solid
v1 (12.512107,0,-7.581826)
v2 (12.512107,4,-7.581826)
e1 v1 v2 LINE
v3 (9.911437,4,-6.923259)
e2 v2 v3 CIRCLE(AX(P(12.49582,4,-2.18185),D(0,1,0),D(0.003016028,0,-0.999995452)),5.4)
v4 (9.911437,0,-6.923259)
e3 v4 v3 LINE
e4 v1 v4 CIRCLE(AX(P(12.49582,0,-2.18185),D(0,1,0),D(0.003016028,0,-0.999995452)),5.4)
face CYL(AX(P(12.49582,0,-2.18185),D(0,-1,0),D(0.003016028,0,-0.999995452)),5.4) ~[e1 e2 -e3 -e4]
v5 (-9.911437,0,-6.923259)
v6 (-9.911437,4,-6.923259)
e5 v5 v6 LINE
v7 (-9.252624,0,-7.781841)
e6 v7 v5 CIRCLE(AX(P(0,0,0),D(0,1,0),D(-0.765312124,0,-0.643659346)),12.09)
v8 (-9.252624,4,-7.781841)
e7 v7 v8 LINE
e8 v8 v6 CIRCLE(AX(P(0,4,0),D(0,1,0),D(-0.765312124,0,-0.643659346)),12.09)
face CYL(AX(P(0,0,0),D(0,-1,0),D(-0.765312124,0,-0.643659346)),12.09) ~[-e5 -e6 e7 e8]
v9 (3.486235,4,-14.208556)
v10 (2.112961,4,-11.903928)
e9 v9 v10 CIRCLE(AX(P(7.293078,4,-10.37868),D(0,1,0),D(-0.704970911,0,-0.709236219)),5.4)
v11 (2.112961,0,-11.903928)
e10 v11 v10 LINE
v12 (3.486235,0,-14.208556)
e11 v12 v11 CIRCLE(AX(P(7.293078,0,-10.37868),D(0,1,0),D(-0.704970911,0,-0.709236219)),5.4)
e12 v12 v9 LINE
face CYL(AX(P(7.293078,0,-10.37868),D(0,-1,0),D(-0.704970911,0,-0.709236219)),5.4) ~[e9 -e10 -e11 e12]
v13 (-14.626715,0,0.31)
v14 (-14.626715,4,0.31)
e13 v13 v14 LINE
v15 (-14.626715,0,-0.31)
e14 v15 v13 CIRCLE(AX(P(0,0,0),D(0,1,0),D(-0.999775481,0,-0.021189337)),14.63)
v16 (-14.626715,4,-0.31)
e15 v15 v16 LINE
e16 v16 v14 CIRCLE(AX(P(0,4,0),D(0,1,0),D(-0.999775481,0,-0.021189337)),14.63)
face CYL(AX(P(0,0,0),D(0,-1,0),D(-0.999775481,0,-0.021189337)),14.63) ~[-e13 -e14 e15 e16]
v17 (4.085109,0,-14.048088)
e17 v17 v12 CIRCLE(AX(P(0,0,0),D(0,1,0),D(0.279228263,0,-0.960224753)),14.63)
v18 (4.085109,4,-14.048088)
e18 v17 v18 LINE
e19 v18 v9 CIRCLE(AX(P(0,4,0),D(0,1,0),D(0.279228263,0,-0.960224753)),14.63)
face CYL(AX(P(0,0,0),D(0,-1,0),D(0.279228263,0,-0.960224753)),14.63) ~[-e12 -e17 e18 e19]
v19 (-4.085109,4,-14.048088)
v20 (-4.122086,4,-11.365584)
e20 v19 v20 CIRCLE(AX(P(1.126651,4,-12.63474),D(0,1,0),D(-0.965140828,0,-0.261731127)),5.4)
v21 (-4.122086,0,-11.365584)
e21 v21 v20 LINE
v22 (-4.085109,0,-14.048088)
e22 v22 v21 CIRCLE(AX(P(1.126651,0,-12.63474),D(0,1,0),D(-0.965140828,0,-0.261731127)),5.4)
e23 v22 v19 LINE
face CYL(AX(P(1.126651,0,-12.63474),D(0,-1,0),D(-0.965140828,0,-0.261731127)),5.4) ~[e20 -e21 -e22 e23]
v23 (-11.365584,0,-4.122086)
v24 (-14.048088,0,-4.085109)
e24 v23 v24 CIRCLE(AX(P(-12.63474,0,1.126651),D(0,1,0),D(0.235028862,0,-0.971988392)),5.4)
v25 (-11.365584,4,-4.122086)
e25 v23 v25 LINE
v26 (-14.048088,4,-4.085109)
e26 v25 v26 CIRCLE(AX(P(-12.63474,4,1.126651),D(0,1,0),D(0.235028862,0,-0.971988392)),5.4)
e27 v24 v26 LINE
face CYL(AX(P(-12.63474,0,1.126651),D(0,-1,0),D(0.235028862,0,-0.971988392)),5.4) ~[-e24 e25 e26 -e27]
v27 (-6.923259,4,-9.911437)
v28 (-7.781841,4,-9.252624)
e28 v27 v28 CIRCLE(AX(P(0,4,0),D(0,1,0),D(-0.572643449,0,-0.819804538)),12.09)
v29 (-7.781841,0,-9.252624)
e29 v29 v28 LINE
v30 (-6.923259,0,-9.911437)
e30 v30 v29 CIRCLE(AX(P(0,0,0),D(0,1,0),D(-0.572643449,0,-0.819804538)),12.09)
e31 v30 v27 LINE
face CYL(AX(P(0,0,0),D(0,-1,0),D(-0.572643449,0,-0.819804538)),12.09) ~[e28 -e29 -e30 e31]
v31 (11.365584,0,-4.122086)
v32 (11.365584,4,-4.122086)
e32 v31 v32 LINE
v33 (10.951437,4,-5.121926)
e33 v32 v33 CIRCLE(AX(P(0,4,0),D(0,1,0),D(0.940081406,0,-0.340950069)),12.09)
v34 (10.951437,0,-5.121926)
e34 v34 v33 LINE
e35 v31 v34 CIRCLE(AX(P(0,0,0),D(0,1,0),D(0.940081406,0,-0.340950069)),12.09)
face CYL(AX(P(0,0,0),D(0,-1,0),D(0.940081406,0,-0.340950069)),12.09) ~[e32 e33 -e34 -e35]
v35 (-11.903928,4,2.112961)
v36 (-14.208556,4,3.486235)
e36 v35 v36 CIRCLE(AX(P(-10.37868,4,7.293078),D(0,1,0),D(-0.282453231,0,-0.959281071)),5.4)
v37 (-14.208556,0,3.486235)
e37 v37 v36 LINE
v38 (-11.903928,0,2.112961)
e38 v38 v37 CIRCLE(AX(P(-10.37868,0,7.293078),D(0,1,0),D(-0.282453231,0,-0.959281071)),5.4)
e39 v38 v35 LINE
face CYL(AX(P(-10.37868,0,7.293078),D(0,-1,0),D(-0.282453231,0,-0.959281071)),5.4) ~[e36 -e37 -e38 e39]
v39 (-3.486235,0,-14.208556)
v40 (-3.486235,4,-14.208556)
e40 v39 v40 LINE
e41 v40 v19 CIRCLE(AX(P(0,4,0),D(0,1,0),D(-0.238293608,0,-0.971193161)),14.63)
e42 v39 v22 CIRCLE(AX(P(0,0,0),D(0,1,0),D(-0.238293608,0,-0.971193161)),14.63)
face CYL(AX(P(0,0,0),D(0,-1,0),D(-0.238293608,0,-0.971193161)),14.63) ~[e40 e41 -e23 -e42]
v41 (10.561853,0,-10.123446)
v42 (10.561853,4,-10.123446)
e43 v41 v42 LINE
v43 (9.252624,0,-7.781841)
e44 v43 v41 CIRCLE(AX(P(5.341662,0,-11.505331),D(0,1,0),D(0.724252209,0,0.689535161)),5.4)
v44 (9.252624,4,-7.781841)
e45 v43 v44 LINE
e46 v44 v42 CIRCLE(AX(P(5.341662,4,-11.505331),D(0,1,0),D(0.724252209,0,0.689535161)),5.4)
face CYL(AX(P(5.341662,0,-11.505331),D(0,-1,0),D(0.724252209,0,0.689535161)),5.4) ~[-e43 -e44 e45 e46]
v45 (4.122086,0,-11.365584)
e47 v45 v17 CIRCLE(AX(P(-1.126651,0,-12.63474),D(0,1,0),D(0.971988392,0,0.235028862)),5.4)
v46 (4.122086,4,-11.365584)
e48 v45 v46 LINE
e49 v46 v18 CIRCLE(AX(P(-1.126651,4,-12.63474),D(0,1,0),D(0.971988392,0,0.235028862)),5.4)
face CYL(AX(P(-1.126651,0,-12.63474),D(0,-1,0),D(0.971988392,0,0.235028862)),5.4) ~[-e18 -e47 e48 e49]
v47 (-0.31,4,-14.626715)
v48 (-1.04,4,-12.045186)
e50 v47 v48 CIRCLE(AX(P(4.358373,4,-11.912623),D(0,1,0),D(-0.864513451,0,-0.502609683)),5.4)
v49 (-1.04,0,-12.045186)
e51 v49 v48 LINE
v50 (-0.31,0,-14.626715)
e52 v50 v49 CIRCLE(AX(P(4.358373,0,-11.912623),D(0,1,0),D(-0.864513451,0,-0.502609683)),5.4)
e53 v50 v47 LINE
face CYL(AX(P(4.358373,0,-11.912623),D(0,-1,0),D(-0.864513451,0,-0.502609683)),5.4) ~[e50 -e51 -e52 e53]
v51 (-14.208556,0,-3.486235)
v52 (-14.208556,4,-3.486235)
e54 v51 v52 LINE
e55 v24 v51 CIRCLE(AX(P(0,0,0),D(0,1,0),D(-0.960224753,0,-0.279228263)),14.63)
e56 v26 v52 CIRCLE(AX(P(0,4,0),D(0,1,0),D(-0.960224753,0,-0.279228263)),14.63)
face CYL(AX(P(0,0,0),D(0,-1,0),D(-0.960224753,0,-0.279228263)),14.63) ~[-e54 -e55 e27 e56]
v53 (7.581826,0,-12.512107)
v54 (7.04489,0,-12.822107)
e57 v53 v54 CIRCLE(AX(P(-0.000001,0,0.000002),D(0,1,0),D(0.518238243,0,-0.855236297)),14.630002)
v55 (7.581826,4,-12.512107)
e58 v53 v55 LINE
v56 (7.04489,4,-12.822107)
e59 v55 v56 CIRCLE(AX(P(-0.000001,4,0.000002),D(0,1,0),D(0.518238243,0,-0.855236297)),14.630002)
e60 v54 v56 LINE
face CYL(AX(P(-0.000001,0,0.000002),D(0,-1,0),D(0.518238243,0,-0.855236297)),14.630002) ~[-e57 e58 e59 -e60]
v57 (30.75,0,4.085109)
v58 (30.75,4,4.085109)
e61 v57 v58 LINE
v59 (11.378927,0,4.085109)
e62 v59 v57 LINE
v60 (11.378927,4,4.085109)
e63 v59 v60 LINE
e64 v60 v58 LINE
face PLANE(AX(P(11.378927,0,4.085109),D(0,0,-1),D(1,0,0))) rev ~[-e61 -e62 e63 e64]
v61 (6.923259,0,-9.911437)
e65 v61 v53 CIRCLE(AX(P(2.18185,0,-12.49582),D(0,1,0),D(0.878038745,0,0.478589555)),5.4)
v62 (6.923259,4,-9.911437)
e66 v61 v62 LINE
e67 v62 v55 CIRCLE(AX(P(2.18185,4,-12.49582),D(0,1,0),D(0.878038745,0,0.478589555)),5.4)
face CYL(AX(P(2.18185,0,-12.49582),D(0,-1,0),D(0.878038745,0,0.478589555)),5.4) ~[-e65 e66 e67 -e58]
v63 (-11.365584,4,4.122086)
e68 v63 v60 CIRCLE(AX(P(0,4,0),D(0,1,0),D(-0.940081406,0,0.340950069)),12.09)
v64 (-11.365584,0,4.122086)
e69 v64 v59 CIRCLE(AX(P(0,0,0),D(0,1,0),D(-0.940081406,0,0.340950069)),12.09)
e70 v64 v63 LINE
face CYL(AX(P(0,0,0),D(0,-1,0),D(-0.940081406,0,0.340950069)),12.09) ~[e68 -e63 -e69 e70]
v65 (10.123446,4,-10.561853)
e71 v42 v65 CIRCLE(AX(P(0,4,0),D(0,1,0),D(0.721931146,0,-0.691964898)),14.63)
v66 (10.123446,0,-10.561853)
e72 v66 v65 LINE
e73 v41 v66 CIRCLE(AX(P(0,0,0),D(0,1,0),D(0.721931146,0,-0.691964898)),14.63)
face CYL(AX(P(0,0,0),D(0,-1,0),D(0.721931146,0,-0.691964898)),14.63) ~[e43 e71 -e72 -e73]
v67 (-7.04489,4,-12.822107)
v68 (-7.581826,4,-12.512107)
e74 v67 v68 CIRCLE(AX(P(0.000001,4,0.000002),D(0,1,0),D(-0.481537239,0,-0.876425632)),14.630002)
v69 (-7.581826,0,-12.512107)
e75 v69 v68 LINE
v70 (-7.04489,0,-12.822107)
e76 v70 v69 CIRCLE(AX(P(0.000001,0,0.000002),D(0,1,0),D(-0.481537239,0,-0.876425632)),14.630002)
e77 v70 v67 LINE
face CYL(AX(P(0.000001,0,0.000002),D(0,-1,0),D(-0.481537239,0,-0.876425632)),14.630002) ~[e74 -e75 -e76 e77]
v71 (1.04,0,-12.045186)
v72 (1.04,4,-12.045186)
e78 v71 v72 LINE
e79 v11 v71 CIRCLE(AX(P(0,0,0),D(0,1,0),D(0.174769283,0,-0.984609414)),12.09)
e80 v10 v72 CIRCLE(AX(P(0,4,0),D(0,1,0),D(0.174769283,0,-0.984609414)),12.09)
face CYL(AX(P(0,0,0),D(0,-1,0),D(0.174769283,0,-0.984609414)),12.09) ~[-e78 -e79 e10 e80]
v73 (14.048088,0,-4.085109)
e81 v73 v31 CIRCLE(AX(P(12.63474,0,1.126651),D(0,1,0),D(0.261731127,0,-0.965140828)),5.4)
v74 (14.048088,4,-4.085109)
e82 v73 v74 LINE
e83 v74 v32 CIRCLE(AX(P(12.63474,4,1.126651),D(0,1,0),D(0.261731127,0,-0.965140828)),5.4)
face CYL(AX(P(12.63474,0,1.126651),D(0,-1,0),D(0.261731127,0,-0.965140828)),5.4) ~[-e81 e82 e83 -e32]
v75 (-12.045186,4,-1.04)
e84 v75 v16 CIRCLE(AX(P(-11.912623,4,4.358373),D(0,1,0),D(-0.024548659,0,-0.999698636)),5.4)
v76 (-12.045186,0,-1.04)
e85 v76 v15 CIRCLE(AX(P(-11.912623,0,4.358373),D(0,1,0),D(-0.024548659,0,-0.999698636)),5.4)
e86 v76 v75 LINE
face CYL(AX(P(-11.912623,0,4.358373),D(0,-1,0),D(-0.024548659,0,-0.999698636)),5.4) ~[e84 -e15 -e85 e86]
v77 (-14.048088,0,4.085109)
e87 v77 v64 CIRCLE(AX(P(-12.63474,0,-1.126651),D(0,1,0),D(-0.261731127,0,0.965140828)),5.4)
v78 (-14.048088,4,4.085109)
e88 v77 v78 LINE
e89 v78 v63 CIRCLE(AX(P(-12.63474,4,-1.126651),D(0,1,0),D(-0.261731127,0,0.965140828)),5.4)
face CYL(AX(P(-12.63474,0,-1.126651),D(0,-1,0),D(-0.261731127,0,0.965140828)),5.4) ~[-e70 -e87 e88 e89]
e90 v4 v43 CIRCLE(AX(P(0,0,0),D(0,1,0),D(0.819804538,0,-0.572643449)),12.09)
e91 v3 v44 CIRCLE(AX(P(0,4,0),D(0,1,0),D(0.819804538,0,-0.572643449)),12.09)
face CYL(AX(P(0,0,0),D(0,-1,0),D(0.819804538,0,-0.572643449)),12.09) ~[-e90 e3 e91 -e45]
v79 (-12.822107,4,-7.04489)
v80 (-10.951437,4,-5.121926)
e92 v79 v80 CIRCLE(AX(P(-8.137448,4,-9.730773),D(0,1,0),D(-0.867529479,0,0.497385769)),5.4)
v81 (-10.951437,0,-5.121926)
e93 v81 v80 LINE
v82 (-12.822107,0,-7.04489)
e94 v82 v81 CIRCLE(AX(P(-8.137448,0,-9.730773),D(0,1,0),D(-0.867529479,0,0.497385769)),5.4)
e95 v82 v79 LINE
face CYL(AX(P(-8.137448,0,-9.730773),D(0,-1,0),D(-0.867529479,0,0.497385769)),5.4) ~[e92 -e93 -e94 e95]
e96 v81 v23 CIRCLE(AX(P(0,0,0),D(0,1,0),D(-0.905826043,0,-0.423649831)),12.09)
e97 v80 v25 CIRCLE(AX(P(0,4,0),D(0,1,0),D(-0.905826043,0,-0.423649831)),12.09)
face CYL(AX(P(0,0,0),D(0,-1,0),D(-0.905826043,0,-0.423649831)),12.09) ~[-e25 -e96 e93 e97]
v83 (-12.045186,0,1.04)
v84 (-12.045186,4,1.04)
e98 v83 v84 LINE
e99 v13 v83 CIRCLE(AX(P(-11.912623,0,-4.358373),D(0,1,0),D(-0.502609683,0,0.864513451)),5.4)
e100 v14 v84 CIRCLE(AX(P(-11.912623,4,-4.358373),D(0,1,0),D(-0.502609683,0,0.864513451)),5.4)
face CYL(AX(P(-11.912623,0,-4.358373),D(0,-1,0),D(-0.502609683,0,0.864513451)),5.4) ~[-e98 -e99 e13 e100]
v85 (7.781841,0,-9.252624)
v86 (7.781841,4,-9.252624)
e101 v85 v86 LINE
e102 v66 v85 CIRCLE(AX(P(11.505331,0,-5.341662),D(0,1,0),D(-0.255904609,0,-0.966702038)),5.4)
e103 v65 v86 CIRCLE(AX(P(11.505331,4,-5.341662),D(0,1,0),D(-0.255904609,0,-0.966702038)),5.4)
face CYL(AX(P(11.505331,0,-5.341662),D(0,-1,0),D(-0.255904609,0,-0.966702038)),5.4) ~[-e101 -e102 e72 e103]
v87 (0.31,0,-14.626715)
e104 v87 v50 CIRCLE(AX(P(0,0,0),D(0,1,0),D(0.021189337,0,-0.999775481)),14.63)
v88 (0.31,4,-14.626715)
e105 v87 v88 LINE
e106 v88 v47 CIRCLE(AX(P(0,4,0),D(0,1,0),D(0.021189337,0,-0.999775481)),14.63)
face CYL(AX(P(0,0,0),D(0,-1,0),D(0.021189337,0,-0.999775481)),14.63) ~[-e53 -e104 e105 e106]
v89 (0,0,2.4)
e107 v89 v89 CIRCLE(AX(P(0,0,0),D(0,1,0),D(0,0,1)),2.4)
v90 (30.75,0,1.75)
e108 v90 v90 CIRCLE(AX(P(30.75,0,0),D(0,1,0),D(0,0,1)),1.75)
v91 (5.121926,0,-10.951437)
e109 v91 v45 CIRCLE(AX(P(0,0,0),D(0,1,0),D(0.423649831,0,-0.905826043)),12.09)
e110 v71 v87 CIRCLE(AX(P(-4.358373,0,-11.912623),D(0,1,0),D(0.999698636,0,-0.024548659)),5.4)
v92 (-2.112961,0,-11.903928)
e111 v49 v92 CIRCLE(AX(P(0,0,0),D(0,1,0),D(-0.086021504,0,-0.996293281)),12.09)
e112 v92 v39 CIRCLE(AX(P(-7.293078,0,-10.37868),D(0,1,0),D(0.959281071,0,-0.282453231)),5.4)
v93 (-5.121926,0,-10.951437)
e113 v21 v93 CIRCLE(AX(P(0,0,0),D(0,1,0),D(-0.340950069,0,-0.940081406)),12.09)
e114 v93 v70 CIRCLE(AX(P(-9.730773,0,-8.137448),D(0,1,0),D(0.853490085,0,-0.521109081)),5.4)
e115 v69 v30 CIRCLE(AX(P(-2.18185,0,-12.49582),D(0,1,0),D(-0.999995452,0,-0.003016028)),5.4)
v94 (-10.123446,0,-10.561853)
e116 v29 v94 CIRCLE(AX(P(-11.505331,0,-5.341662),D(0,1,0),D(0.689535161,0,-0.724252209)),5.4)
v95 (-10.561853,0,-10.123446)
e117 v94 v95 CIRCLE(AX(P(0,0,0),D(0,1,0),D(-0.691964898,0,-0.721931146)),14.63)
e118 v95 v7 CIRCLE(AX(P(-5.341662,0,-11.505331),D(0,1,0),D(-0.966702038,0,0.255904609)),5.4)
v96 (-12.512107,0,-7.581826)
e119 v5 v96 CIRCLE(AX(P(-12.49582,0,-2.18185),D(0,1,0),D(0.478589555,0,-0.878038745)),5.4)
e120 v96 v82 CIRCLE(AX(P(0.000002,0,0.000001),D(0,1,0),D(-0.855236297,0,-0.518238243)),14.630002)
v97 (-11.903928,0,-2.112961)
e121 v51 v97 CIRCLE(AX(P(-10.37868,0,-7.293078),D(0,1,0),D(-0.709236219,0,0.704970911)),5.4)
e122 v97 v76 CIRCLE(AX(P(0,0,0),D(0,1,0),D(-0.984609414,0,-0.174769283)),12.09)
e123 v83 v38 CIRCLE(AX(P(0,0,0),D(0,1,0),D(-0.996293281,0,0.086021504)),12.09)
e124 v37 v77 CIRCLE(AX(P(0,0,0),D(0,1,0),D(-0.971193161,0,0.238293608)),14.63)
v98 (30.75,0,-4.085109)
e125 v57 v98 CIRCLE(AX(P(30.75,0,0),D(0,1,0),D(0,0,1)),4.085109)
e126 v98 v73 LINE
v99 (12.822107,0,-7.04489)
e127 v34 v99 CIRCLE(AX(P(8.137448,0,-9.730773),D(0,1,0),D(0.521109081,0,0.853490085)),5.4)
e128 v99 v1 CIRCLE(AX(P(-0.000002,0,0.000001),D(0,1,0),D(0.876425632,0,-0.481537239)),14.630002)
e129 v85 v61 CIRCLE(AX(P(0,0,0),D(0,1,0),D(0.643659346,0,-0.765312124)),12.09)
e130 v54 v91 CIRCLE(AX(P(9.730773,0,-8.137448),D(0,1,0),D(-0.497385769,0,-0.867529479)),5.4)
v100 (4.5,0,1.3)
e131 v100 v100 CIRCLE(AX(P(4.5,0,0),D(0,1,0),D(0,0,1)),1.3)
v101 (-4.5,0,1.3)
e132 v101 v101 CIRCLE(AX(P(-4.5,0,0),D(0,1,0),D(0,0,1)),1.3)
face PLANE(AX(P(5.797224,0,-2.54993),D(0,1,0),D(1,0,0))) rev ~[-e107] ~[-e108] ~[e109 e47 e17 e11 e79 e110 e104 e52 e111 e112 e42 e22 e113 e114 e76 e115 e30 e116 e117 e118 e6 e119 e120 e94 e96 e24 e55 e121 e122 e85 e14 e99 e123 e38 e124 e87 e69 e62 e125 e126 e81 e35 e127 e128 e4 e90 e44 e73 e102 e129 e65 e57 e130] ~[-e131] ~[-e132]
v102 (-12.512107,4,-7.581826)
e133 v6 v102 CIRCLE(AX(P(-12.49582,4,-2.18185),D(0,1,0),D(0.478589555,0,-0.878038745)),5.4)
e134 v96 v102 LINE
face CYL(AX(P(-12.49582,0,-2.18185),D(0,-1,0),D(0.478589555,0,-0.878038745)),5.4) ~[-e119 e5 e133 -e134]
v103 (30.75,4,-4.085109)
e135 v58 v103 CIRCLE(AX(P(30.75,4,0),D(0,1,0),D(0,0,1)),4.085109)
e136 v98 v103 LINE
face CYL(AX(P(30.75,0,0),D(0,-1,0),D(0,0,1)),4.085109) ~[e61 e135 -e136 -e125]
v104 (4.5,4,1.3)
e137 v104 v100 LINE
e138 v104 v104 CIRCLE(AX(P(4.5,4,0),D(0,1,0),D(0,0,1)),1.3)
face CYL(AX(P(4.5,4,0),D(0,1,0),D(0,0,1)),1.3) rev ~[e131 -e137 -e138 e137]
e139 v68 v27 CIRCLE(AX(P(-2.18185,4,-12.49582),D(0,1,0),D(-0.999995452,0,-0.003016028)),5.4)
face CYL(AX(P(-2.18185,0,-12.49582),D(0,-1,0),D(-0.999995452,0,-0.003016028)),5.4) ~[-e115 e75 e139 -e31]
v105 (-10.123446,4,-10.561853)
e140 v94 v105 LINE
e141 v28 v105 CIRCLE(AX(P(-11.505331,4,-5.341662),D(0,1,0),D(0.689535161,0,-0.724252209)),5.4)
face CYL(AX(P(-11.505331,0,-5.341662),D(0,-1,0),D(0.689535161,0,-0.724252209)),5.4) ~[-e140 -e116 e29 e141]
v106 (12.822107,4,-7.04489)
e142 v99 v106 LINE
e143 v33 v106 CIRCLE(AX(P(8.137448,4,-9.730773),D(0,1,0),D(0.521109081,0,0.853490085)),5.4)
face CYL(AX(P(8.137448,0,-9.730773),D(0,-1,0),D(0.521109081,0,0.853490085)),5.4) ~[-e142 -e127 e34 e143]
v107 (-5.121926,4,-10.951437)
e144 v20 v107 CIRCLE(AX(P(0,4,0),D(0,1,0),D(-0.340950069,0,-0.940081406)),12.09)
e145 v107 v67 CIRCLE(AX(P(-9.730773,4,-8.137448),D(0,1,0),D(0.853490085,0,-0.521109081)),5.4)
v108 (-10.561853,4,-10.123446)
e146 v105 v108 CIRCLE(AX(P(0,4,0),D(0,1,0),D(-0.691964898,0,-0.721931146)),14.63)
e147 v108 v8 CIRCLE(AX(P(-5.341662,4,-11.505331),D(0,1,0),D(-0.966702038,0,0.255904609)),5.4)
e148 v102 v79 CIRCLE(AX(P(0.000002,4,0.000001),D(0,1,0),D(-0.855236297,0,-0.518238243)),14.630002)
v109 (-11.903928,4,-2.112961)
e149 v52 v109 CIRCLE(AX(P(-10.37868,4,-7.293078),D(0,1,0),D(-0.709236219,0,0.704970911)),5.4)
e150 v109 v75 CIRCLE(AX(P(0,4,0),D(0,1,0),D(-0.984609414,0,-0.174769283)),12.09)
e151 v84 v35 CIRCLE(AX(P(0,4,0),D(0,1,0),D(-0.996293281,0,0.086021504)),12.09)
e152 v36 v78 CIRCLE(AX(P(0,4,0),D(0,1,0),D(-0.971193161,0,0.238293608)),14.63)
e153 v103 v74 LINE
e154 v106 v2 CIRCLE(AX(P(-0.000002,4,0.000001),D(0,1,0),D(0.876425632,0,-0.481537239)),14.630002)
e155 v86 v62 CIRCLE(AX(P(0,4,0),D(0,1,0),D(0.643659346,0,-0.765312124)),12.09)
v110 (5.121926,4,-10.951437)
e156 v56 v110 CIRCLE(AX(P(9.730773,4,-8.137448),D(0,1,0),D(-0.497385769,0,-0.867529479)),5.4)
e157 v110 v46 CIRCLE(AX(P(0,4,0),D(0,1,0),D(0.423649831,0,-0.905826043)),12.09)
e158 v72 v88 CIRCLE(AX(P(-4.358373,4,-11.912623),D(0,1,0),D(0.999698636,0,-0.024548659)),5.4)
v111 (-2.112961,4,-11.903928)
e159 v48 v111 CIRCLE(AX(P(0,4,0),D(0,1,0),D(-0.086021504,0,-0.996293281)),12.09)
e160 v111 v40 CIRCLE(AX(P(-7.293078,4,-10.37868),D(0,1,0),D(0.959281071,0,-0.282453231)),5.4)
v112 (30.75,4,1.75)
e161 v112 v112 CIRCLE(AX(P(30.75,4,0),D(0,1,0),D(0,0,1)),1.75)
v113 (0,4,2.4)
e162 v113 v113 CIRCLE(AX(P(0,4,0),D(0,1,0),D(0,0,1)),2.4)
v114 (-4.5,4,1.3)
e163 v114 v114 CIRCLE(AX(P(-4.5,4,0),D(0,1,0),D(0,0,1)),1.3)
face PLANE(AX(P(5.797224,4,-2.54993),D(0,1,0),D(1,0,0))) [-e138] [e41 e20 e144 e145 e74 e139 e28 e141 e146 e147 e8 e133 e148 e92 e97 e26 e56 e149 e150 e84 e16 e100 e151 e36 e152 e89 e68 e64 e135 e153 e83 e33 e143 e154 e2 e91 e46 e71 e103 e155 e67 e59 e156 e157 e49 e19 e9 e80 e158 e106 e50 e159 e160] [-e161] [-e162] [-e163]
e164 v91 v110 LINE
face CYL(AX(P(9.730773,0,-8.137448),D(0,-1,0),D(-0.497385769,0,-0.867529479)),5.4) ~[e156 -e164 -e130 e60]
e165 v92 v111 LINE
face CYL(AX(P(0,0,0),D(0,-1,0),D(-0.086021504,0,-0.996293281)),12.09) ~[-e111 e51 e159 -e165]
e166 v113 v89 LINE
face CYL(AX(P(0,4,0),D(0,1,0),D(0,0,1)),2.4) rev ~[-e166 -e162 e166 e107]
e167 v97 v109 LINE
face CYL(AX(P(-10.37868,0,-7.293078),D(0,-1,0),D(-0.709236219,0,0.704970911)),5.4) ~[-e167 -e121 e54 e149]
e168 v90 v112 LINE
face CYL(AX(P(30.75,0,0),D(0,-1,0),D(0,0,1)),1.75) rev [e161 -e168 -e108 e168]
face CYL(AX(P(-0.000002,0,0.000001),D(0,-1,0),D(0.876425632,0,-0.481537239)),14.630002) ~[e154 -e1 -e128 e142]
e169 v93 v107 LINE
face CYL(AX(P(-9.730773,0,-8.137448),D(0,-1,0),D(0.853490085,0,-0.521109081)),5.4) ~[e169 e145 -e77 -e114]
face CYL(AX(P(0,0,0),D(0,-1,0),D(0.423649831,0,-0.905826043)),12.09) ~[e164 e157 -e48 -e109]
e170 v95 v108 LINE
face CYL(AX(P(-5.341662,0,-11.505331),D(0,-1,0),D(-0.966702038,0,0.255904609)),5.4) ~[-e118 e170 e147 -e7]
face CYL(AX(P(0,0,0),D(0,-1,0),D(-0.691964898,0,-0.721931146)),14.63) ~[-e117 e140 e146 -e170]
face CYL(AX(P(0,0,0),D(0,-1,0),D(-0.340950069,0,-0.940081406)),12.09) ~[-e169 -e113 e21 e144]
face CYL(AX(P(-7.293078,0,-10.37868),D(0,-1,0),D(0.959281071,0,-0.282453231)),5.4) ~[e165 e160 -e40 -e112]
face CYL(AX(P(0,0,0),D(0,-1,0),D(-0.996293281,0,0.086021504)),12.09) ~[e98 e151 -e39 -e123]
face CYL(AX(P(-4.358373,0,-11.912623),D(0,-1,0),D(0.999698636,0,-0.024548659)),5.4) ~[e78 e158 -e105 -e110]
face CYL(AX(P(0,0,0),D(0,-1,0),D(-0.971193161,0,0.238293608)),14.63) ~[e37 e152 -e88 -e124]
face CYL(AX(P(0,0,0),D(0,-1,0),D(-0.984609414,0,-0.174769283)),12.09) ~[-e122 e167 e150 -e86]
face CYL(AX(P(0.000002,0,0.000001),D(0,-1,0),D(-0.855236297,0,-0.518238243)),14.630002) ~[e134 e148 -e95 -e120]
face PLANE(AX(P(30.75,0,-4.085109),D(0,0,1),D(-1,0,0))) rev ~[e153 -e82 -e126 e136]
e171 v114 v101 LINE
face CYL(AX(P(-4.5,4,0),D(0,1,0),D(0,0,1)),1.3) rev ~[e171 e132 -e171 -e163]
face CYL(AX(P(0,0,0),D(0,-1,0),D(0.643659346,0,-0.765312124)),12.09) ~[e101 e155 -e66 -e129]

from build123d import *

# Parameters (mm, degrees)
SKETCH_2_R          = 1.75
EXTRUDE_1_DEPTH     = 4
SKETCH_3_R          = 2.4
SKETCH_3_R_2        = 1.3
CUT_EXTRUDE_1_DEPTH = 38.993706757


with BuildPart() as part:
    # 草图2 → 凸台-拉伸1 (new body)
    with BuildSketch(Plane(origin=(0, 0, 0), x_dir=(1, 0, 0), z_dir=(0, 1, 0))):
        with BuildLine():
            ThreePointArc((30.75, -4.085109489), (34.835109489, 0), (30.75, 4.085109489))
            Line((30.75, 4.085109489), (14.048088143, 4.085109489))
            ThreePointArc((14.048088143, 4.085109489), (12.709169027, 4.272836063), (11.365584201, 4.122086336))
            ThreePointArc((11.365584201, 4.122086336), (11.169703548, 4.626642697), (10.951436862, 5.12192646))
            ThreePointArc((10.951436862, 5.12192646), (12.008090957, 5.965388247), (12.82210701, 7.044889767))
            ThreePointArc((12.82210701, 7.044889767), (12.669951657, 7.315), (12.51210701, 7.581825517))
            ThreePointArc((12.51210701, 7.581825517), (11.170223244, 7.416617696), (9.911436862, 6.9232593))
            ThreePointArc((9.911436862, 6.9232593), (9.591641884, 7.359925677), (9.252623584, 7.781841479))
            ThreePointArc((9.252623584, 7.781841479), (10.05496909, 8.870045207), (10.561852666, 10.123446462))
            ThreePointArc((10.561852666, 10.123446462), (10.344972209, 10.344972209), (10.123446462, 10.561852666))
            ThreePointArc((10.123446462, 10.561852666), (8.870045207, 10.05496909), (7.781841479, 9.252623584))
            ThreePointArc((7.781841479, 9.252623584), (7.359925677, 9.591641884), (6.9232593, 9.911436862))
            ThreePointArc((6.9232593, 9.911436862), (7.416617696, 11.170223244), (7.581825517, 12.51210701))
            ThreePointArc((7.581825517, 12.51210701), (7.315, 12.669951657), (7.044889767, 12.82210701))
            ThreePointArc((7.044889767, 12.82210701), (5.965388247, 12.008090957), (5.12192646, 10.951436862))
            ThreePointArc((5.12192646, 10.951436862), (4.626642697, 11.169703548), (4.122086336, 11.365584201))
            ThreePointArc((4.122086336, 11.365584201), (4.272836063, 12.709169027), (4.085109489, 14.048088143))
            ThreePointArc((4.085109489, 14.048088143), (3.78652263, 14.131494839), (3.486235477, 14.208555951))
            ThreePointArc((3.486235477, 14.208555951), (2.654199937, 13.14288127), (2.112960617, 11.903927815))
            ThreePointArc((2.112960617, 11.903927815), (1.578061664, 11.986568374), (1.04, 12.04518576))
            ThreePointArc((1.04, 12.04518576), (0.837867713, 13.382005944), (0.31, 14.626715284))
            ThreePointArc((0.31, 14.626715284), (0, 14.63), (-0.31, 14.626715284))
            ThreePointArc((-0.31, 14.626715284), (-0.837867713, 13.382005944), (-1.04, 12.04518576))
            ThreePointArc((-1.04, 12.04518576), (-1.578061664, 11.986568374), (-2.112960617, 11.903927815))
            ThreePointArc((-2.112960617, 11.903927815), (-2.654199937, 13.14288127), (-3.486235477, 14.208555951))
            ThreePointArc((-3.486235477, 14.208555951), (-3.78652263, 14.131494839), (-4.085109489, 14.048088143))
            ThreePointArc((-4.085109489, 14.048088143), (-4.272836063, 12.709169027), (-4.122086336, 11.365584201))
            ThreePointArc((-4.122086336, 11.365584201), (-4.626642697, 11.169703548), (-5.12192646, 10.951436862))
            ThreePointArc((-5.12192646, 10.951436862), (-5.965388247, 12.008090957), (-7.044889767, 12.82210701))
            ThreePointArc((-7.044889767, 12.82210701), (-7.315, 12.669951657), (-7.581825517, 12.51210701))
            ThreePointArc((-7.581825517, 12.51210701), (-7.416617696, 11.170223244), (-6.9232593, 9.911436862))
            ThreePointArc((-6.9232593, 9.911436862), (-7.359925677, 9.591641884), (-7.781841479, 9.252623584))
            ThreePointArc((-7.781841479, 9.252623584), (-8.870045207, 10.05496909), (-10.123446462, 10.561852666))
            ThreePointArc((-10.123446462, 10.561852666), (-10.344972209, 10.344972209), (-10.561852666, 10.123446462))
            ThreePointArc((-10.561852666, 10.123446462), (-10.05496909, 8.870045207), (-9.252623584, 7.781841479))
            ThreePointArc((-9.252623584, 7.781841479), (-9.591641884, 7.359925677), (-9.911436862, 6.9232593))
            ThreePointArc((-9.911436862, 6.9232593), (-11.170223244, 7.416617696), (-12.51210701, 7.581825517))
            ThreePointArc((-12.51210701, 7.581825517), (-12.669951657, 7.315), (-12.82210701, 7.044889767))
            ThreePointArc((-12.82210701, 7.044889767), (-12.008090957, 5.965388247), (-10.951436862, 5.12192646))
            ThreePointArc((-10.951436862, 5.12192646), (-11.169703548, 4.626642697), (-11.365584201, 4.122086336))
            ThreePointArc((-11.365584201, 4.122086336), (-12.709169027, 4.272836063), (-14.048088143, 4.085109489))
            ThreePointArc((-14.048088143, 4.085109489), (-14.131494839, 3.78652263), (-14.208555951, 3.486235477))
            ThreePointArc((-14.208555951, 3.486235477), (-13.14288127, 2.654199937), (-11.903927815, 2.112960617))
            ThreePointArc((-11.903927815, 2.112960617), (-11.986568374, 1.578061664), (-12.04518576, 1.04))
            ThreePointArc((-12.04518576, 1.04), (-13.382005944, 0.837867713), (-14.626715284, 0.31))
            ThreePointArc((-14.626715284, 0.31), (-14.63, 0), (-14.626715284, -0.31))
            ThreePointArc((-14.626715284, -0.31), (-13.382005944, -0.837867713), (-12.04518576, -1.04))
            ThreePointArc((-12.04518576, -1.04), (-11.986568374, -1.578061664), (-11.903927815, -2.112960617))
            ThreePointArc((-11.903927815, -2.112960617), (-13.14288127, -2.654199937), (-14.208555951, -3.486235477))
            ThreePointArc((-14.208555951, -3.486235477), (-14.131494839, -3.78652263), (-14.048088143, -4.085109489))
            ThreePointArc((-14.048088143, -4.085109489), (-12.709169027, -4.272836063), (-11.365584201, -4.122086336))
            ThreePointArc((-11.365584201, -4.122086336), (0.019655269, -12.089984023), (11.378927035, -4.085109489))
            Line((11.378927035, -4.085109489), (30.75, -4.085109489))
        make_face()
        with Locations(Location((0, 0, 0), (0, 0, 270))):
            Circle(SKETCH_2_R, mode=Mode.SUBTRACT)
        with Locations(Location((30.75, 0, 0), (0, 0, 270))):
            Circle(SKETCH_2_R, mode=Mode.SUBTRACT)
    extrude(amount=EXTRUDE_1_DEPTH)

    # 草图3 → 切除-拉伸1 (cut, through all)
    with BuildSketch(Plane(origin=(0, 4, 0), x_dir=(1, 0, 0), z_dir=(0, 1, 0))):
        with Locations(Location((0, 0, 0), (0, 0, 270))):
            Circle(SKETCH_3_R)
        with Locations(Location((4.5, 0, 0), (0, 0, 270))):
            Circle(SKETCH_3_R_2)
        with Locations(Location((-4.5, 0, 0), (0, 0, 270))):
            Circle(SKETCH_3_R_2)
    extrude(amount=-CUT_EXTRUDE_1_DEPTH, mode=Mode.SUBTRACT)


solid = part.part
